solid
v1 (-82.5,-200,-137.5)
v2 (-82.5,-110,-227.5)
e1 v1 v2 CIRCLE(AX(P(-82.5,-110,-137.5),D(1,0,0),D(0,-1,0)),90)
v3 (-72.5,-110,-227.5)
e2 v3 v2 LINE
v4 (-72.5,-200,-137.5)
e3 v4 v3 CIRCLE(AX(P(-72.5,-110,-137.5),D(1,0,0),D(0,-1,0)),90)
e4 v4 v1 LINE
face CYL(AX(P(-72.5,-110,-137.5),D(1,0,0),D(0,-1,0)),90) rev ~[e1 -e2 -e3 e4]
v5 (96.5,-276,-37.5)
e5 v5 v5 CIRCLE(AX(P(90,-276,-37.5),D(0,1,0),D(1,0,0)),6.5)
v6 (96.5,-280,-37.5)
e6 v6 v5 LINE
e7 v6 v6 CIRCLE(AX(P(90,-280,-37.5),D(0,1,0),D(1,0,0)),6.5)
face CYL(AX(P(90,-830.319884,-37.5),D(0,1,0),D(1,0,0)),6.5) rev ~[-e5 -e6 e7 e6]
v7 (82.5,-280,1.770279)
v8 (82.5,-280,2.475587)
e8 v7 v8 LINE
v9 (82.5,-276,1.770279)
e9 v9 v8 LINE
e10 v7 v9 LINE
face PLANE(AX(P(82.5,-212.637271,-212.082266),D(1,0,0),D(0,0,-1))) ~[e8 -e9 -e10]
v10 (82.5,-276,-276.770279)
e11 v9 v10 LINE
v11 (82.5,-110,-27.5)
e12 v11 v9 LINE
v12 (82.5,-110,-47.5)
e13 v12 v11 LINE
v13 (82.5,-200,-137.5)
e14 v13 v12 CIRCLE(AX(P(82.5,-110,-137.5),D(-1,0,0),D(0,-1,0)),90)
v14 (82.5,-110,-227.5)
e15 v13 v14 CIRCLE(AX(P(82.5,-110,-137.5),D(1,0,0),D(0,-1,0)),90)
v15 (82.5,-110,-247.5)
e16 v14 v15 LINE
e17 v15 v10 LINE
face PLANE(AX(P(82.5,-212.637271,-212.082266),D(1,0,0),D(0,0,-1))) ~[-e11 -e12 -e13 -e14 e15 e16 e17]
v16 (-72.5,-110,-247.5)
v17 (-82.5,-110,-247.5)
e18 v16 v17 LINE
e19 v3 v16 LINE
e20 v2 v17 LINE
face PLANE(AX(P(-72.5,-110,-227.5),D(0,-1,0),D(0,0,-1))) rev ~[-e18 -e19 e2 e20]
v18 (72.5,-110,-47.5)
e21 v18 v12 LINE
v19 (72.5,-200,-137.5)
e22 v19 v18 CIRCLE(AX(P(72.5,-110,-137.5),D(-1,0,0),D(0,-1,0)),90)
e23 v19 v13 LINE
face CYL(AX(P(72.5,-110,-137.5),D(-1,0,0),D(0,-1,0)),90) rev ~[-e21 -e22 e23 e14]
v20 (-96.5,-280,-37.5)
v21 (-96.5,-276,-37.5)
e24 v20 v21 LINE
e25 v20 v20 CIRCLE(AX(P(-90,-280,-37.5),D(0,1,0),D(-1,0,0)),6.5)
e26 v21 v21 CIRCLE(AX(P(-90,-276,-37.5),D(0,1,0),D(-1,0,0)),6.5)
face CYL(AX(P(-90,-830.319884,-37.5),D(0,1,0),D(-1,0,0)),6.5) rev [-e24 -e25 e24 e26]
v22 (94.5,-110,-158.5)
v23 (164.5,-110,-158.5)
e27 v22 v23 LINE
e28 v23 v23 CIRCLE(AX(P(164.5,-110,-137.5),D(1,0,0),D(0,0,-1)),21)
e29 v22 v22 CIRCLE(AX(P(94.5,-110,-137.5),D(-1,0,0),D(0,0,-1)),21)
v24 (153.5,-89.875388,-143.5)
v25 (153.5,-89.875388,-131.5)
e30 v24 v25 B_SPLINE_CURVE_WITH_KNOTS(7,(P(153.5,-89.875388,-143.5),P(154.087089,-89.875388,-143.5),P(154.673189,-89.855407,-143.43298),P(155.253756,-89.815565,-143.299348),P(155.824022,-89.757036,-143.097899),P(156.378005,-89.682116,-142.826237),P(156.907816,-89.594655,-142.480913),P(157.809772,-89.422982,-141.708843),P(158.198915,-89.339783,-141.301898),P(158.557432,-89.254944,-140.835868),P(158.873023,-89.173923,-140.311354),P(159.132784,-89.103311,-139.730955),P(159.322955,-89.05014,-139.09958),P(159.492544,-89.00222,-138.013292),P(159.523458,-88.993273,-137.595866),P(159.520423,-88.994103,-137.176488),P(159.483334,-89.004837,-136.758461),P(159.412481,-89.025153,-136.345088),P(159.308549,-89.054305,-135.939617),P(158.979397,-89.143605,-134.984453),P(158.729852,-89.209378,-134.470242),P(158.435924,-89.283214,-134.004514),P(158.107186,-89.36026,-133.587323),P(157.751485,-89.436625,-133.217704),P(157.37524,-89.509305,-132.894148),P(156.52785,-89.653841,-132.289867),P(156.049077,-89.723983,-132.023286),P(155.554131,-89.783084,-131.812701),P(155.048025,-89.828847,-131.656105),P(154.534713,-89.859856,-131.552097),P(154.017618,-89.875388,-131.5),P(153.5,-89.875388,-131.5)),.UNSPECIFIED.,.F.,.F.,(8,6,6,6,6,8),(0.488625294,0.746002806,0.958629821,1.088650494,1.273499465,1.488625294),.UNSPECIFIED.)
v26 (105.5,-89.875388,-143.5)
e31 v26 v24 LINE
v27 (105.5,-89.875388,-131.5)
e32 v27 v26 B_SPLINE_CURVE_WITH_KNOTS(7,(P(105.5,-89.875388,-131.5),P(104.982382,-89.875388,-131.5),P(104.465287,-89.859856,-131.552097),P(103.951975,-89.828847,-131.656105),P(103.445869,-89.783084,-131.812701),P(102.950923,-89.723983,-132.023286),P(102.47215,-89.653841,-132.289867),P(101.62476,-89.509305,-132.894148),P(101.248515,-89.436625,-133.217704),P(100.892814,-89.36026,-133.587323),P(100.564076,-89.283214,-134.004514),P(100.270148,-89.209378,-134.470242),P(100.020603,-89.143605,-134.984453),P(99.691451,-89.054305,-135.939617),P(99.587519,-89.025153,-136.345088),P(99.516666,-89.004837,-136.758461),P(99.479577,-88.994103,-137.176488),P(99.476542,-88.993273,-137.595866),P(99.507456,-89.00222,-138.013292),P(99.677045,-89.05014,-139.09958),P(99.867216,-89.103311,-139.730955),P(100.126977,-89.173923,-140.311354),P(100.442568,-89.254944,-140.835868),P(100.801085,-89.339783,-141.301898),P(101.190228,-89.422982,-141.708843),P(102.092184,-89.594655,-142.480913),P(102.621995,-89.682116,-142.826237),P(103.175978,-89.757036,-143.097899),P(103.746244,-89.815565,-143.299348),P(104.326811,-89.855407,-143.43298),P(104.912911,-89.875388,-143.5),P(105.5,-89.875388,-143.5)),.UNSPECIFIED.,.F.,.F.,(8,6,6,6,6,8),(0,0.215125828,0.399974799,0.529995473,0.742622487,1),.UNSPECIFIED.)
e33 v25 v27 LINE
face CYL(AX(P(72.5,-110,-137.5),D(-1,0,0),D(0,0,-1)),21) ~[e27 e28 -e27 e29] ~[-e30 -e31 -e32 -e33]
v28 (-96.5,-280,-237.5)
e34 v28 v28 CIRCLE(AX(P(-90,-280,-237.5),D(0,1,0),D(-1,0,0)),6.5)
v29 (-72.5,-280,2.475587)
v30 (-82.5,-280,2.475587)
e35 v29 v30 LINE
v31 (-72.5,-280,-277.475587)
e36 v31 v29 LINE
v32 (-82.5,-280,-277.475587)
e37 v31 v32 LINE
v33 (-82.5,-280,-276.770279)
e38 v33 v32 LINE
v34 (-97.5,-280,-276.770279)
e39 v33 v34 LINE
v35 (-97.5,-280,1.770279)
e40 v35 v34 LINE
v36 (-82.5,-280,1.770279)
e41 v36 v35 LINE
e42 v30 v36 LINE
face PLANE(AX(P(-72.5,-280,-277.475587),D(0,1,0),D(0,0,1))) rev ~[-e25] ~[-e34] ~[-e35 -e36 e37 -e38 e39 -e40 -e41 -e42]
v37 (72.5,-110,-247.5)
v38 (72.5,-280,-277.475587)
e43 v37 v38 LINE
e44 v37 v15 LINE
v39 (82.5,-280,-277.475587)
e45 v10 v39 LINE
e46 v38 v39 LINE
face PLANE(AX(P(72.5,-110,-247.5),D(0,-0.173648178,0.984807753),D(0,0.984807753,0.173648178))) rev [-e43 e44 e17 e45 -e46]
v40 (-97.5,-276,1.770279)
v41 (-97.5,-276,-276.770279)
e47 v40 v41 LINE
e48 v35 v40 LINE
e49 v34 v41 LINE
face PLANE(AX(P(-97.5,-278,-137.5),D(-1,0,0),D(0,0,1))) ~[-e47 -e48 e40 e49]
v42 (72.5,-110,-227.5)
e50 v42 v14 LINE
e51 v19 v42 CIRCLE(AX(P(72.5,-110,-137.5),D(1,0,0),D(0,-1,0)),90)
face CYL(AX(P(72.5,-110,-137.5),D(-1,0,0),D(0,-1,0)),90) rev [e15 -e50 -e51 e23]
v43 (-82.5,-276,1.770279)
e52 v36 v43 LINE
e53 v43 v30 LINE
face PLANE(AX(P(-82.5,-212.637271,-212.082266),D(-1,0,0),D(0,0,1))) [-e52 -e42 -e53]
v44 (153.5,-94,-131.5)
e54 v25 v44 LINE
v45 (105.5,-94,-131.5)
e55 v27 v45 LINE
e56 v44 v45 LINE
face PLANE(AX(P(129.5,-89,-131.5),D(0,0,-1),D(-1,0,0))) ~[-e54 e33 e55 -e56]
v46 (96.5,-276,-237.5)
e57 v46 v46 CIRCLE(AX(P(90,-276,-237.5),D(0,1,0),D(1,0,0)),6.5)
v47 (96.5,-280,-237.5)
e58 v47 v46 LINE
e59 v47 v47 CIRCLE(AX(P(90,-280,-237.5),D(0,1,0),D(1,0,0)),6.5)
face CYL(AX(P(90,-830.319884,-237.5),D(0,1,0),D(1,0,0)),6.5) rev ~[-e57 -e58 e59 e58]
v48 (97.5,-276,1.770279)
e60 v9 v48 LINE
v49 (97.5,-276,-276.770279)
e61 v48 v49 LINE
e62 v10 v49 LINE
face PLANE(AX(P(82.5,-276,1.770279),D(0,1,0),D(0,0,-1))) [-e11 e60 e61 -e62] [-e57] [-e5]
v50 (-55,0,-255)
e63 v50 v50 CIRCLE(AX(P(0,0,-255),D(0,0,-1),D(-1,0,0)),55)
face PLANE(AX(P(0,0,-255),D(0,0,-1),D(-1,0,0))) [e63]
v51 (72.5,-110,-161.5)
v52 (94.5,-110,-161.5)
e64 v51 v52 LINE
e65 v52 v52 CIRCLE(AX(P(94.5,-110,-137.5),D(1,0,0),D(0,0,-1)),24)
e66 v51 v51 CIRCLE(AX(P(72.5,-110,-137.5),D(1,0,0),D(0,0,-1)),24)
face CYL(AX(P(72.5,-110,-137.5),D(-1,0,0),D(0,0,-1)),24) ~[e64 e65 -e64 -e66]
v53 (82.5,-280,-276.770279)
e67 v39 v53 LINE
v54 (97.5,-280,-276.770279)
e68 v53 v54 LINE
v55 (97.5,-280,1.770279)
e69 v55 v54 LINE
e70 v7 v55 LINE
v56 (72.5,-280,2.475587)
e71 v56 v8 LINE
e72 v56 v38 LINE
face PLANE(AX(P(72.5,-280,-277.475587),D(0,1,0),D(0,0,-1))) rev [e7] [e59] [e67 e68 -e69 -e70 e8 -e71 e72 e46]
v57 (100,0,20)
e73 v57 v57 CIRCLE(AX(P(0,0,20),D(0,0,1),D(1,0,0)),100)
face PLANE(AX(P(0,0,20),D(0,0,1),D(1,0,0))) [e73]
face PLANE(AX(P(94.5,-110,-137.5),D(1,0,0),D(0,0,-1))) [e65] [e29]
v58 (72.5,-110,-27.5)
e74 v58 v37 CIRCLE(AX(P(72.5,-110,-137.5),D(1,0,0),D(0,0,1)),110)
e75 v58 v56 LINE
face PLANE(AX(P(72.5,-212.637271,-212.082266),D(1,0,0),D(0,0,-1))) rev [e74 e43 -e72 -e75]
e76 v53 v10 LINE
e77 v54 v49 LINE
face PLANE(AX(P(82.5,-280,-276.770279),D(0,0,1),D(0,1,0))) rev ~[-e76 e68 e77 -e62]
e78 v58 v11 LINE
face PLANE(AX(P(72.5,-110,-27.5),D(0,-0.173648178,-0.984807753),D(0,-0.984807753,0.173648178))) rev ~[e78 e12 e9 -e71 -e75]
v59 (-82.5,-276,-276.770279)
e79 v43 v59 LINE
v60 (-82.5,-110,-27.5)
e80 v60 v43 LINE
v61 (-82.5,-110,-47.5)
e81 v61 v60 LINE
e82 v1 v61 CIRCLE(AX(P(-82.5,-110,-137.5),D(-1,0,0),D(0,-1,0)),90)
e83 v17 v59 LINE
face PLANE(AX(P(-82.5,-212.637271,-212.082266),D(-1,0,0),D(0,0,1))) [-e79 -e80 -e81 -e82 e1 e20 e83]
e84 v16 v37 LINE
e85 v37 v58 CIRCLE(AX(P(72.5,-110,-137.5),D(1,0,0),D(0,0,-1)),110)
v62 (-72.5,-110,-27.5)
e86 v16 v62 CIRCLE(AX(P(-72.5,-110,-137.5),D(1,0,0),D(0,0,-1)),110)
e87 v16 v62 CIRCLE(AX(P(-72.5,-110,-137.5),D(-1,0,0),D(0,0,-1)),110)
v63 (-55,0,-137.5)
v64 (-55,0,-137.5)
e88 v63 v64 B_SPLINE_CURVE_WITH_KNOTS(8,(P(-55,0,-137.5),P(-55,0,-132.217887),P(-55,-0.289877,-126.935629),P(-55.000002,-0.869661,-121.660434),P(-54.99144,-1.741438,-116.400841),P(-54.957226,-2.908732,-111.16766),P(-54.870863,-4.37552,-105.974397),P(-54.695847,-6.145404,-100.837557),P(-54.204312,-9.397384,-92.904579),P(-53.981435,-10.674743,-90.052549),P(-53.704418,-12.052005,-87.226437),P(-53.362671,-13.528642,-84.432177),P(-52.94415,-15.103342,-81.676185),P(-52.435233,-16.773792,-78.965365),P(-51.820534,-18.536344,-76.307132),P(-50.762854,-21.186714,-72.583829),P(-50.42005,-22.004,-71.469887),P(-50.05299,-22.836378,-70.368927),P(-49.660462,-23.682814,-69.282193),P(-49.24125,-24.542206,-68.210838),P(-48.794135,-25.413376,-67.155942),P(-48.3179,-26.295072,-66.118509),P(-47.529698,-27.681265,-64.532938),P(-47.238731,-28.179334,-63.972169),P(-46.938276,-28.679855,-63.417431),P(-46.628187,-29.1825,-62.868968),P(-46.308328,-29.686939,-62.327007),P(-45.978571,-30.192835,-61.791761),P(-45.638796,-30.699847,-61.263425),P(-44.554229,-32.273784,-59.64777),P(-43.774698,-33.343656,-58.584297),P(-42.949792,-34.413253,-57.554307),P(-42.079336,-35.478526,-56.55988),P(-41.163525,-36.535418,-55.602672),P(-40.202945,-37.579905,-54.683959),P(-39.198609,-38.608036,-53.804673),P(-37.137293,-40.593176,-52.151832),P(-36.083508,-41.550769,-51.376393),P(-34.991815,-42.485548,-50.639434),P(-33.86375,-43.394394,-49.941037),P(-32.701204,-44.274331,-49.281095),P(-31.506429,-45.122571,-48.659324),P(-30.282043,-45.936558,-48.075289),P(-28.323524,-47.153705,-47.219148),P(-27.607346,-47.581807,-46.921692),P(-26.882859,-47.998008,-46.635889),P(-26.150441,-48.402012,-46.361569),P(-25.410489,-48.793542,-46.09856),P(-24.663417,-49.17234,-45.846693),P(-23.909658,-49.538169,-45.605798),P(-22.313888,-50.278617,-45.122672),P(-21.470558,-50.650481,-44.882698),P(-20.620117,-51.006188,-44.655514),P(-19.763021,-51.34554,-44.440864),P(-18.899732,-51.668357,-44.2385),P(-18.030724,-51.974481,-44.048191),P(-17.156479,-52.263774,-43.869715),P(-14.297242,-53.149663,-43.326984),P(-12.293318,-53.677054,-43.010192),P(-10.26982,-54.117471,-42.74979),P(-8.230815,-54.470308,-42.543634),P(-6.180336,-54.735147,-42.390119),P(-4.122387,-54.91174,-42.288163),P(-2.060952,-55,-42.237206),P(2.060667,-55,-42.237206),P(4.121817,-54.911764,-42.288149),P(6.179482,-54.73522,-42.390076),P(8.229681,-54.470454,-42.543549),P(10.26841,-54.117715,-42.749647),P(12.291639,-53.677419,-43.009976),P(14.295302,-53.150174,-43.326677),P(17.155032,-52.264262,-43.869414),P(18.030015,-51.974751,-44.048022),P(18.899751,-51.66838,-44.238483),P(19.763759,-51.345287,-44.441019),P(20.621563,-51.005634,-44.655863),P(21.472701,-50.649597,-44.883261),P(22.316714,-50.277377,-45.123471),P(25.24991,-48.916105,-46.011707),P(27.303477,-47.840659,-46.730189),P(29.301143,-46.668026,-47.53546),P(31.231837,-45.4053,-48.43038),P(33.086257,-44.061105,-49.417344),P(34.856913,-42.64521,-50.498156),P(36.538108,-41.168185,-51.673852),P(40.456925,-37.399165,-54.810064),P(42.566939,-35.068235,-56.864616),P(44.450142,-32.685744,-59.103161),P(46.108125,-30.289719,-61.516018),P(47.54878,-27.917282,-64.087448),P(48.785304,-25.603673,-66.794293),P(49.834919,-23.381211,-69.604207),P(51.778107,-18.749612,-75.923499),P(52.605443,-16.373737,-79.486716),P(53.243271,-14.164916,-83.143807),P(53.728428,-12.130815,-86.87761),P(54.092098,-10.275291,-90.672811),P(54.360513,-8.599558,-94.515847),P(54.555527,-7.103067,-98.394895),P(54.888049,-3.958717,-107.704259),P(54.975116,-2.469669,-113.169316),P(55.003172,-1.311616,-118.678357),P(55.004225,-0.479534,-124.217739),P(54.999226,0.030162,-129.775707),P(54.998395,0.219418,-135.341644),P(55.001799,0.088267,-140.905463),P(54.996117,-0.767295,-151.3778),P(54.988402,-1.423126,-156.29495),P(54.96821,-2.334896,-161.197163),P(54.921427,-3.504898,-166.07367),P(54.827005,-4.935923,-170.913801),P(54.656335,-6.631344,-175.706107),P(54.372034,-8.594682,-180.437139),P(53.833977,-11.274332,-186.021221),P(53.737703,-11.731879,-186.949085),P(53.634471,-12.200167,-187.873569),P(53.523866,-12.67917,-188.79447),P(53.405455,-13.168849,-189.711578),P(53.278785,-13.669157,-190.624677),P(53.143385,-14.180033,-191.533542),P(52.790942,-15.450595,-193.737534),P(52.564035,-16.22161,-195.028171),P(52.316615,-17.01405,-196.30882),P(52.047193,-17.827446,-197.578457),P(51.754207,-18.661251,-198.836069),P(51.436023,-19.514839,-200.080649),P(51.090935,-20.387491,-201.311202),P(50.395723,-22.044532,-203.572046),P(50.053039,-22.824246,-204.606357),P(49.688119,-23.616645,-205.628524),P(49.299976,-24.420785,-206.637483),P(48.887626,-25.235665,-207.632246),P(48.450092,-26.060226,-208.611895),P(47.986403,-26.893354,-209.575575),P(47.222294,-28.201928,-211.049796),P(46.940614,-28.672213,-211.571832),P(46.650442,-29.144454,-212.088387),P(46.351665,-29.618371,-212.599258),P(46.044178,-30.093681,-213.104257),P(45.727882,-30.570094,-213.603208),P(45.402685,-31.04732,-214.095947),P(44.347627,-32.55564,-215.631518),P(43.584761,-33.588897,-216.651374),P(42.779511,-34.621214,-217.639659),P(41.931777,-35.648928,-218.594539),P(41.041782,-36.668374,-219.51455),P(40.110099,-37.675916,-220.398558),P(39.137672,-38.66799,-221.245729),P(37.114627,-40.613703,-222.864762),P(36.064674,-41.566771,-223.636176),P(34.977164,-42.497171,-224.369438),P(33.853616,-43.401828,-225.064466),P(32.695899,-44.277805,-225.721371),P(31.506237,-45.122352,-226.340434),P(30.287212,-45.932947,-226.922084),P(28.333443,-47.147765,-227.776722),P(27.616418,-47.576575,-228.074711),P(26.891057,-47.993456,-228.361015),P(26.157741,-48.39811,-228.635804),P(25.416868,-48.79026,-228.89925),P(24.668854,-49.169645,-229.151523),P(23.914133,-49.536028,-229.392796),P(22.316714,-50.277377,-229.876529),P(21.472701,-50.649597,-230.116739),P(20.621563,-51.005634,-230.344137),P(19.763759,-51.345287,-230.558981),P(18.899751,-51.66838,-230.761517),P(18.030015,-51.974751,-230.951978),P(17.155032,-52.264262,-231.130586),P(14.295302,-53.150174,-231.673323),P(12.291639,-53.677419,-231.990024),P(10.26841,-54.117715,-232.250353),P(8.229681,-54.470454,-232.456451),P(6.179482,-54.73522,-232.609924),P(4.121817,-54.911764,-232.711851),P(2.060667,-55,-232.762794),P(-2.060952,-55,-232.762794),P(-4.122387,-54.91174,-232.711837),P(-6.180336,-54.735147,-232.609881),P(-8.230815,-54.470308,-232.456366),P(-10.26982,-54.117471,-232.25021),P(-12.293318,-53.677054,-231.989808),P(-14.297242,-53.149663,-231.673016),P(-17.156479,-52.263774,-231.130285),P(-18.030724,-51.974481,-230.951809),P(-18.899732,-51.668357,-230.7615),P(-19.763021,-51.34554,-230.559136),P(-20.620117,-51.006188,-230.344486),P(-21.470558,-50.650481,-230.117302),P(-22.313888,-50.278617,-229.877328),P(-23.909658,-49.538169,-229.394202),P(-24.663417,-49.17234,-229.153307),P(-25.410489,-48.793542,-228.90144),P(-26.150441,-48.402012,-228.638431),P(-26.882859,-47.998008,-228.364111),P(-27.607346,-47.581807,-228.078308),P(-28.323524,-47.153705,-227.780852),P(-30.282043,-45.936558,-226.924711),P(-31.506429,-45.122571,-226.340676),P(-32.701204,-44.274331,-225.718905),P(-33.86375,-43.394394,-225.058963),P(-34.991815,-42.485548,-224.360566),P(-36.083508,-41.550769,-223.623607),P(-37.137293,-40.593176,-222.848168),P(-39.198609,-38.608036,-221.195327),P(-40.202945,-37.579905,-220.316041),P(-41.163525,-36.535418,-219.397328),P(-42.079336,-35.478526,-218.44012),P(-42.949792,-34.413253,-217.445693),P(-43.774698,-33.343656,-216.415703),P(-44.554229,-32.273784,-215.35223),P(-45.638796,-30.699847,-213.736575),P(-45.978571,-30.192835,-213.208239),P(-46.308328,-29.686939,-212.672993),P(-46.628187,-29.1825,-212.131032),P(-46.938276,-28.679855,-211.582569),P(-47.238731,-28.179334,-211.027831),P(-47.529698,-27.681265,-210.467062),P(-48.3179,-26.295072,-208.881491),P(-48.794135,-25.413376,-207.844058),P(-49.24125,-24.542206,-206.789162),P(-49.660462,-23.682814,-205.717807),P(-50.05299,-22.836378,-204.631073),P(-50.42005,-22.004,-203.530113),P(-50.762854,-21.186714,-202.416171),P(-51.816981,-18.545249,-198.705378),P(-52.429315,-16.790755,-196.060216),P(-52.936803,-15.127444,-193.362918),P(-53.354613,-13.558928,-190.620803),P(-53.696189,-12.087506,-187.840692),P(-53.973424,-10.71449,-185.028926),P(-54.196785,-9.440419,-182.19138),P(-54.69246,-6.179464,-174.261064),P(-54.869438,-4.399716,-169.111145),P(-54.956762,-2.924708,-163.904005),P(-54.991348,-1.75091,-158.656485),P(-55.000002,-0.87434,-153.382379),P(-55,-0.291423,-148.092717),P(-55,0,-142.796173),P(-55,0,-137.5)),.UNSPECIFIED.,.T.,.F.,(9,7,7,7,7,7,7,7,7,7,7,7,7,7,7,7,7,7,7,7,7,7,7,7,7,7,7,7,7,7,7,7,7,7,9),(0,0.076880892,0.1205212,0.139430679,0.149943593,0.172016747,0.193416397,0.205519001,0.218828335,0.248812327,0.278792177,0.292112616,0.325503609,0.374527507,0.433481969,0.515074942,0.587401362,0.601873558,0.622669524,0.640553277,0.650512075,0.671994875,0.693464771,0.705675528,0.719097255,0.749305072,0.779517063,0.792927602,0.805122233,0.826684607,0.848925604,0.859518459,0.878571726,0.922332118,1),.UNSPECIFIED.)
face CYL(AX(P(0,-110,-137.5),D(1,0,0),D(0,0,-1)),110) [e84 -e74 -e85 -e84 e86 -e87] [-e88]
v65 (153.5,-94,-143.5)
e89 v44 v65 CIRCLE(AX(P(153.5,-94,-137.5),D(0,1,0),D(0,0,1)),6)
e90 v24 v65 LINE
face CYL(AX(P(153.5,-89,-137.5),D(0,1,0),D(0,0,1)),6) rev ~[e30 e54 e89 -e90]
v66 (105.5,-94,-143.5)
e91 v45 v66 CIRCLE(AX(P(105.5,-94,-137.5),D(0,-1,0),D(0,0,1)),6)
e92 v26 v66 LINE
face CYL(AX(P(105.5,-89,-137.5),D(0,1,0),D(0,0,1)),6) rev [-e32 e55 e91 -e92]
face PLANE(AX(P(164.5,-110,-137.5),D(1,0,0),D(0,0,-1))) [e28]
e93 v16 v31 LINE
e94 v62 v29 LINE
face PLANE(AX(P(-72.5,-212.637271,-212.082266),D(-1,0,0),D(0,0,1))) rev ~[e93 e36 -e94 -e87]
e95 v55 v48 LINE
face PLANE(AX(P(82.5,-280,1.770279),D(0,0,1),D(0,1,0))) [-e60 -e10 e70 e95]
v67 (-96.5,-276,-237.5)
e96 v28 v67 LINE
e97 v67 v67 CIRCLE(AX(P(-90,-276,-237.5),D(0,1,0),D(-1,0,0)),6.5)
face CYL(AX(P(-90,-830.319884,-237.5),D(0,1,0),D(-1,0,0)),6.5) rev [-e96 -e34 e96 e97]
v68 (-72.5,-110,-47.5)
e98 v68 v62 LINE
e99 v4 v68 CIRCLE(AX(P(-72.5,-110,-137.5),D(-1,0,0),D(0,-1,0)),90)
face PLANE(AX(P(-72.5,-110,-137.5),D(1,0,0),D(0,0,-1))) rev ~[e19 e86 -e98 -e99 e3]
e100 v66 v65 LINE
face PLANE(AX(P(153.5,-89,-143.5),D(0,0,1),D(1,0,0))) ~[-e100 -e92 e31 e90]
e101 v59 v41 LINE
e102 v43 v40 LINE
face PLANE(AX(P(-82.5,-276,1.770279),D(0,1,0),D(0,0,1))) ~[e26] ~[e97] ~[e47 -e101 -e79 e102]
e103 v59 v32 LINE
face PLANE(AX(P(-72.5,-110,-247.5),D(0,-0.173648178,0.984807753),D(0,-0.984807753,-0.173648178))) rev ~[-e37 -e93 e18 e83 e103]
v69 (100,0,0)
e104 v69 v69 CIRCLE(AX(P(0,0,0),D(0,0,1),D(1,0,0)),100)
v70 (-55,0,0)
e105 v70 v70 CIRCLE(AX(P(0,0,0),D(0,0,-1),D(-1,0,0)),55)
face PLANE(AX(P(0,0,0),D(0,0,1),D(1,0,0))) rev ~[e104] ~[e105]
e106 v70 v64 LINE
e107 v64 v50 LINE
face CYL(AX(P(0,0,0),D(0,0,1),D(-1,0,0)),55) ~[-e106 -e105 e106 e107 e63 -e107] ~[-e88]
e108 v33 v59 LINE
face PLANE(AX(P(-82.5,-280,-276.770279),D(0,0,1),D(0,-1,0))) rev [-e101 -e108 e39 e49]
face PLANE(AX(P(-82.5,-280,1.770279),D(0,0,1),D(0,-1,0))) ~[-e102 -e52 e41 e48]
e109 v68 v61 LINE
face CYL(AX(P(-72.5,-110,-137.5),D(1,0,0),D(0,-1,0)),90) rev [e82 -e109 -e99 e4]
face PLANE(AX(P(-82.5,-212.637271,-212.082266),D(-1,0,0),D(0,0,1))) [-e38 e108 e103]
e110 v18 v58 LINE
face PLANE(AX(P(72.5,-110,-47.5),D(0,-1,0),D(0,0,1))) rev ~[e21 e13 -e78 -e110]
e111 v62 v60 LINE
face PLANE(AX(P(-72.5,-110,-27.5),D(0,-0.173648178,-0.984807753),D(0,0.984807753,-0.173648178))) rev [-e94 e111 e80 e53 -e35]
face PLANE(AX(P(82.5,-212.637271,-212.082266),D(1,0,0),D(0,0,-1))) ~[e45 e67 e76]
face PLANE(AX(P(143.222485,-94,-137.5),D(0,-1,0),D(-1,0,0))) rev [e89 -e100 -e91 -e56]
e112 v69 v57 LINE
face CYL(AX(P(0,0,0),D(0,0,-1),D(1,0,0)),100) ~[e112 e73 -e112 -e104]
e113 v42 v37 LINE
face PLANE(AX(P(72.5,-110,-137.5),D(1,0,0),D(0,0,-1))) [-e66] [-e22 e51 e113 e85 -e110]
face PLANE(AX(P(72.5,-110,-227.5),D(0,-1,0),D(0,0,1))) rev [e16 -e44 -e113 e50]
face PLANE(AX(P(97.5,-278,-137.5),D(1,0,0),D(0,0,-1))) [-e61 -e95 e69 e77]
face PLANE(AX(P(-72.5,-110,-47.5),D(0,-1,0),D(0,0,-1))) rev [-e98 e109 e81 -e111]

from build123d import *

# Parameters (mm, degrees)
SKETCH1_R                  = 100
BOSS_EXTRUDE1_DEPTH        = 20
SKETCH2_R                  = 55
BOSS_EXTRUDE2_DEPTH        = 255
SKETCH3_R                  = 110
BOSS_EXTRUDE3_DEPTH        = 72.5
BOSS_EXTRUDE4_DEPTH        = 10
MIRROR4_COPY_1_DEPTH       = 10
MIRROR4_COPY_2_DEPTH       = 10
SKETCH5_R                  = 21
BOSS_EXTRUDE5_DEPTH        = 92
SKETCH7_R                  = 24
BOSS_EXTRUDE6_DEPTH        = 22
CUT_EXTRUDE1_DEPTH         = 5
SKETCH8_W                  = 278.540557596
SKETCH8_H                  = 4
BOSS_EXTRUDE7_DEPTH        = 15
F_13_0_13_DIAMETER_HOLE1_D = 13


with BuildPart() as part:
    # Sketch1 → Boss-Extrude1 (new body)
    with BuildSketch(Plane.XY):
        Circle(SKETCH1_R)
    extrude(amount=BOSS_EXTRUDE1_DEPTH)

    # Sketch2 → Boss-Extrude2 (add)
    with BuildSketch(Plane(origin=(0, 0, 0), x_dir=(-1, 0, 0), z_dir=(0, 0, -1))):
        Circle(SKETCH2_R)
    extrude(amount=BOSS_EXTRUDE2_DEPTH)

    # Sketch3 → Boss-Extrude3 (add, symmetric)
    with BuildSketch(Plane(origin=(0, 0, 0), x_dir=(0, 0, -1), z_dir=(1, 0, 0))):
        with Locations((137.5, -110)):
            Circle(SKETCH3_R)
    extrude(amount=BOSS_EXTRUDE3_DEPTH, both=True)

    # Sketch4 → Boss-Extrude4 (add)
    with BuildSketch(Plane(origin=(72.5, 0, 0), x_dir=(0, 0, -1), z_dir=(1, 0, 0))):
        with BuildLine():
            Line((-2.47558672, -280), (137.5, -280))
            Line((137.5, -280), (137.5, -200))
            ThreePointArc((137.5, -200), (73.860389693, -173.639610307), (47.5, -110))
            Line((47.5, -110), (27.5, -110))
            Line((27.5, -110), (-2.47558672, -280))
        make_face()
    boss_extrude4 = extrude(amount=BOSS_EXTRUDE4_DEPTH)

    # Mirror1: Boss-Extrude4 across plane
    add(boss_extrude4.mirror(Plane(origin=(82.5, 0, -137.5), x_dir=(1, 0, 0), z_dir=(0, 0, 1))))

    # Mirror3: Boss-Extrude4 across plane
    add(boss_extrude4.mirror(Plane(origin=(0, 0, 0), x_dir=(0, 0, 1), z_dir=(1, 0, 0))))

    # Mirror4 copy 1 sketch → Mirror4 copy 1 (add)
    with BuildSketch(Plane(origin=(-72.5, 0, -275), x_dir=(0, 0, 1), z_dir=(-1, 0, 0))):
        with BuildLine():
            Line((-2.47558672, -280), (137.5, -280))
            Line((137.5, -280), (137.5, -200))
            ThreePointArc((137.5, -200), (73.860389693, -173.639610307), (47.5, -110))
            Line((47.5, -110), (27.5, -110))
            Line((27.5, -110), (-2.47558672, -280))
        make_face()
    extrude(amount=MIRROR4_COPY_1_DEPTH)

    # Mirror4 copy 2 sketch → Mirror4 copy 2 (add)
    with BuildSketch(Plane(origin=(72.5, 0, -275), x_dir=(0, 0, 1), z_dir=(1, 0, 0))):
        with BuildLine():
            Line((-2.47558672, 280), (137.5, 280))
            Line((137.5, 280), (137.5, 200))
            ThreePointArc((137.5, 200), (73.860389693, 173.639610307), (47.5, 110))
            Line((47.5, 110), (27.5, 110))
            Line((27.5, 110), (-2.47558672, 280))
        make_face()
    extrude(amount=MIRROR4_COPY_2_DEPTH)

    # Sketch5 → Boss-Extrude5 (add)
    with BuildSketch(Plane(origin=(72.5, 0, 0), x_dir=(0, 0, -1), z_dir=(1, 0, 0))):
        with Locations((137.5, -110)):
            Circle(SKETCH5_R)
    extrude(amount=BOSS_EXTRUDE5_DEPTH)

    # Sketch7 → Boss-Extrude6 (add)
    with BuildSketch(Plane(origin=(72.5, 0, 0), x_dir=(0, 0, -1), z_dir=(1, 0, 0))):
        with Locations((137.5, -110)):
            Circle(SKETCH7_R)
    extrude(amount=BOSS_EXTRUDE6_DEPTH)

    # Sketch6 → Cut-Extrude1 (cut)
    with BuildSketch(Plane(origin=(0, -89, 0), x_dir=(1, 0, 0), z_dir=(0, 1, 0))):
        with BuildLine():
            Line((105.5, 143.5), (129.5, 143.5))
            Line((129.5, 143.5), (129.5, 131.5))
            Line((129.5, 131.5), (105.5, 131.5))
            ThreePointArc((105.5, 131.5), (99.5, 137.5), (105.5, 143.5))
        make_face()
    cut_extrude1 = extrude(amount=-CUT_EXTRUDE1_DEPTH, mode=Mode.SUBTRACT)

    # Mirror5: Cut-Extrude1 across plane
    add(cut_extrude1.mirror(Plane(origin=(129.5, -94, -143.5), x_dir=(0, 0, 1), z_dir=(1, 0, 0))), mode=Mode.SUBTRACT)

    # Sketch8 → Boss-Extrude7 (add)
    with BuildSketch(Plane(origin=(82.5, 0, 0), x_dir=(0, 0, -1), z_dir=(1, 0, 0))):
        with Locations((137.5, -278)):
            Rectangle(SKETCH8_W, SKETCH8_H)
    boss_extrude7 = extrude(amount=BOSS_EXTRUDE7_DEPTH)

    # Ø13.0 (13) Diameter Hole1 (through all)
    with Locations(Plane(origin=(0, -280, 0), x_dir=(-1, 0, 0), z_dir=(0, -1, 0))):
        with Locations((-90, 37.5), (-90, 237.5)):
            f_13_0_13_diameter_hole1 = Hole(F_13_0_13_DIAMETER_HOLE1_D / 2)

    # Mirror8: Boss-Extrude7, Ø13.0 (13) Diameter Hole1 across plane
    add(boss_extrude7.mirror(Plane(origin=(0, 0, 0), x_dir=(0, 0, 1), z_dir=(1, 0, 0))))
    add(f_13_0_13_diameter_hole1.mirror(Plane(origin=(0, 0, 0), x_dir=(0, 0, 1), z_dir=(1, 0, 0))), mode=Mode.SUBTRACT)


solid = part.part
